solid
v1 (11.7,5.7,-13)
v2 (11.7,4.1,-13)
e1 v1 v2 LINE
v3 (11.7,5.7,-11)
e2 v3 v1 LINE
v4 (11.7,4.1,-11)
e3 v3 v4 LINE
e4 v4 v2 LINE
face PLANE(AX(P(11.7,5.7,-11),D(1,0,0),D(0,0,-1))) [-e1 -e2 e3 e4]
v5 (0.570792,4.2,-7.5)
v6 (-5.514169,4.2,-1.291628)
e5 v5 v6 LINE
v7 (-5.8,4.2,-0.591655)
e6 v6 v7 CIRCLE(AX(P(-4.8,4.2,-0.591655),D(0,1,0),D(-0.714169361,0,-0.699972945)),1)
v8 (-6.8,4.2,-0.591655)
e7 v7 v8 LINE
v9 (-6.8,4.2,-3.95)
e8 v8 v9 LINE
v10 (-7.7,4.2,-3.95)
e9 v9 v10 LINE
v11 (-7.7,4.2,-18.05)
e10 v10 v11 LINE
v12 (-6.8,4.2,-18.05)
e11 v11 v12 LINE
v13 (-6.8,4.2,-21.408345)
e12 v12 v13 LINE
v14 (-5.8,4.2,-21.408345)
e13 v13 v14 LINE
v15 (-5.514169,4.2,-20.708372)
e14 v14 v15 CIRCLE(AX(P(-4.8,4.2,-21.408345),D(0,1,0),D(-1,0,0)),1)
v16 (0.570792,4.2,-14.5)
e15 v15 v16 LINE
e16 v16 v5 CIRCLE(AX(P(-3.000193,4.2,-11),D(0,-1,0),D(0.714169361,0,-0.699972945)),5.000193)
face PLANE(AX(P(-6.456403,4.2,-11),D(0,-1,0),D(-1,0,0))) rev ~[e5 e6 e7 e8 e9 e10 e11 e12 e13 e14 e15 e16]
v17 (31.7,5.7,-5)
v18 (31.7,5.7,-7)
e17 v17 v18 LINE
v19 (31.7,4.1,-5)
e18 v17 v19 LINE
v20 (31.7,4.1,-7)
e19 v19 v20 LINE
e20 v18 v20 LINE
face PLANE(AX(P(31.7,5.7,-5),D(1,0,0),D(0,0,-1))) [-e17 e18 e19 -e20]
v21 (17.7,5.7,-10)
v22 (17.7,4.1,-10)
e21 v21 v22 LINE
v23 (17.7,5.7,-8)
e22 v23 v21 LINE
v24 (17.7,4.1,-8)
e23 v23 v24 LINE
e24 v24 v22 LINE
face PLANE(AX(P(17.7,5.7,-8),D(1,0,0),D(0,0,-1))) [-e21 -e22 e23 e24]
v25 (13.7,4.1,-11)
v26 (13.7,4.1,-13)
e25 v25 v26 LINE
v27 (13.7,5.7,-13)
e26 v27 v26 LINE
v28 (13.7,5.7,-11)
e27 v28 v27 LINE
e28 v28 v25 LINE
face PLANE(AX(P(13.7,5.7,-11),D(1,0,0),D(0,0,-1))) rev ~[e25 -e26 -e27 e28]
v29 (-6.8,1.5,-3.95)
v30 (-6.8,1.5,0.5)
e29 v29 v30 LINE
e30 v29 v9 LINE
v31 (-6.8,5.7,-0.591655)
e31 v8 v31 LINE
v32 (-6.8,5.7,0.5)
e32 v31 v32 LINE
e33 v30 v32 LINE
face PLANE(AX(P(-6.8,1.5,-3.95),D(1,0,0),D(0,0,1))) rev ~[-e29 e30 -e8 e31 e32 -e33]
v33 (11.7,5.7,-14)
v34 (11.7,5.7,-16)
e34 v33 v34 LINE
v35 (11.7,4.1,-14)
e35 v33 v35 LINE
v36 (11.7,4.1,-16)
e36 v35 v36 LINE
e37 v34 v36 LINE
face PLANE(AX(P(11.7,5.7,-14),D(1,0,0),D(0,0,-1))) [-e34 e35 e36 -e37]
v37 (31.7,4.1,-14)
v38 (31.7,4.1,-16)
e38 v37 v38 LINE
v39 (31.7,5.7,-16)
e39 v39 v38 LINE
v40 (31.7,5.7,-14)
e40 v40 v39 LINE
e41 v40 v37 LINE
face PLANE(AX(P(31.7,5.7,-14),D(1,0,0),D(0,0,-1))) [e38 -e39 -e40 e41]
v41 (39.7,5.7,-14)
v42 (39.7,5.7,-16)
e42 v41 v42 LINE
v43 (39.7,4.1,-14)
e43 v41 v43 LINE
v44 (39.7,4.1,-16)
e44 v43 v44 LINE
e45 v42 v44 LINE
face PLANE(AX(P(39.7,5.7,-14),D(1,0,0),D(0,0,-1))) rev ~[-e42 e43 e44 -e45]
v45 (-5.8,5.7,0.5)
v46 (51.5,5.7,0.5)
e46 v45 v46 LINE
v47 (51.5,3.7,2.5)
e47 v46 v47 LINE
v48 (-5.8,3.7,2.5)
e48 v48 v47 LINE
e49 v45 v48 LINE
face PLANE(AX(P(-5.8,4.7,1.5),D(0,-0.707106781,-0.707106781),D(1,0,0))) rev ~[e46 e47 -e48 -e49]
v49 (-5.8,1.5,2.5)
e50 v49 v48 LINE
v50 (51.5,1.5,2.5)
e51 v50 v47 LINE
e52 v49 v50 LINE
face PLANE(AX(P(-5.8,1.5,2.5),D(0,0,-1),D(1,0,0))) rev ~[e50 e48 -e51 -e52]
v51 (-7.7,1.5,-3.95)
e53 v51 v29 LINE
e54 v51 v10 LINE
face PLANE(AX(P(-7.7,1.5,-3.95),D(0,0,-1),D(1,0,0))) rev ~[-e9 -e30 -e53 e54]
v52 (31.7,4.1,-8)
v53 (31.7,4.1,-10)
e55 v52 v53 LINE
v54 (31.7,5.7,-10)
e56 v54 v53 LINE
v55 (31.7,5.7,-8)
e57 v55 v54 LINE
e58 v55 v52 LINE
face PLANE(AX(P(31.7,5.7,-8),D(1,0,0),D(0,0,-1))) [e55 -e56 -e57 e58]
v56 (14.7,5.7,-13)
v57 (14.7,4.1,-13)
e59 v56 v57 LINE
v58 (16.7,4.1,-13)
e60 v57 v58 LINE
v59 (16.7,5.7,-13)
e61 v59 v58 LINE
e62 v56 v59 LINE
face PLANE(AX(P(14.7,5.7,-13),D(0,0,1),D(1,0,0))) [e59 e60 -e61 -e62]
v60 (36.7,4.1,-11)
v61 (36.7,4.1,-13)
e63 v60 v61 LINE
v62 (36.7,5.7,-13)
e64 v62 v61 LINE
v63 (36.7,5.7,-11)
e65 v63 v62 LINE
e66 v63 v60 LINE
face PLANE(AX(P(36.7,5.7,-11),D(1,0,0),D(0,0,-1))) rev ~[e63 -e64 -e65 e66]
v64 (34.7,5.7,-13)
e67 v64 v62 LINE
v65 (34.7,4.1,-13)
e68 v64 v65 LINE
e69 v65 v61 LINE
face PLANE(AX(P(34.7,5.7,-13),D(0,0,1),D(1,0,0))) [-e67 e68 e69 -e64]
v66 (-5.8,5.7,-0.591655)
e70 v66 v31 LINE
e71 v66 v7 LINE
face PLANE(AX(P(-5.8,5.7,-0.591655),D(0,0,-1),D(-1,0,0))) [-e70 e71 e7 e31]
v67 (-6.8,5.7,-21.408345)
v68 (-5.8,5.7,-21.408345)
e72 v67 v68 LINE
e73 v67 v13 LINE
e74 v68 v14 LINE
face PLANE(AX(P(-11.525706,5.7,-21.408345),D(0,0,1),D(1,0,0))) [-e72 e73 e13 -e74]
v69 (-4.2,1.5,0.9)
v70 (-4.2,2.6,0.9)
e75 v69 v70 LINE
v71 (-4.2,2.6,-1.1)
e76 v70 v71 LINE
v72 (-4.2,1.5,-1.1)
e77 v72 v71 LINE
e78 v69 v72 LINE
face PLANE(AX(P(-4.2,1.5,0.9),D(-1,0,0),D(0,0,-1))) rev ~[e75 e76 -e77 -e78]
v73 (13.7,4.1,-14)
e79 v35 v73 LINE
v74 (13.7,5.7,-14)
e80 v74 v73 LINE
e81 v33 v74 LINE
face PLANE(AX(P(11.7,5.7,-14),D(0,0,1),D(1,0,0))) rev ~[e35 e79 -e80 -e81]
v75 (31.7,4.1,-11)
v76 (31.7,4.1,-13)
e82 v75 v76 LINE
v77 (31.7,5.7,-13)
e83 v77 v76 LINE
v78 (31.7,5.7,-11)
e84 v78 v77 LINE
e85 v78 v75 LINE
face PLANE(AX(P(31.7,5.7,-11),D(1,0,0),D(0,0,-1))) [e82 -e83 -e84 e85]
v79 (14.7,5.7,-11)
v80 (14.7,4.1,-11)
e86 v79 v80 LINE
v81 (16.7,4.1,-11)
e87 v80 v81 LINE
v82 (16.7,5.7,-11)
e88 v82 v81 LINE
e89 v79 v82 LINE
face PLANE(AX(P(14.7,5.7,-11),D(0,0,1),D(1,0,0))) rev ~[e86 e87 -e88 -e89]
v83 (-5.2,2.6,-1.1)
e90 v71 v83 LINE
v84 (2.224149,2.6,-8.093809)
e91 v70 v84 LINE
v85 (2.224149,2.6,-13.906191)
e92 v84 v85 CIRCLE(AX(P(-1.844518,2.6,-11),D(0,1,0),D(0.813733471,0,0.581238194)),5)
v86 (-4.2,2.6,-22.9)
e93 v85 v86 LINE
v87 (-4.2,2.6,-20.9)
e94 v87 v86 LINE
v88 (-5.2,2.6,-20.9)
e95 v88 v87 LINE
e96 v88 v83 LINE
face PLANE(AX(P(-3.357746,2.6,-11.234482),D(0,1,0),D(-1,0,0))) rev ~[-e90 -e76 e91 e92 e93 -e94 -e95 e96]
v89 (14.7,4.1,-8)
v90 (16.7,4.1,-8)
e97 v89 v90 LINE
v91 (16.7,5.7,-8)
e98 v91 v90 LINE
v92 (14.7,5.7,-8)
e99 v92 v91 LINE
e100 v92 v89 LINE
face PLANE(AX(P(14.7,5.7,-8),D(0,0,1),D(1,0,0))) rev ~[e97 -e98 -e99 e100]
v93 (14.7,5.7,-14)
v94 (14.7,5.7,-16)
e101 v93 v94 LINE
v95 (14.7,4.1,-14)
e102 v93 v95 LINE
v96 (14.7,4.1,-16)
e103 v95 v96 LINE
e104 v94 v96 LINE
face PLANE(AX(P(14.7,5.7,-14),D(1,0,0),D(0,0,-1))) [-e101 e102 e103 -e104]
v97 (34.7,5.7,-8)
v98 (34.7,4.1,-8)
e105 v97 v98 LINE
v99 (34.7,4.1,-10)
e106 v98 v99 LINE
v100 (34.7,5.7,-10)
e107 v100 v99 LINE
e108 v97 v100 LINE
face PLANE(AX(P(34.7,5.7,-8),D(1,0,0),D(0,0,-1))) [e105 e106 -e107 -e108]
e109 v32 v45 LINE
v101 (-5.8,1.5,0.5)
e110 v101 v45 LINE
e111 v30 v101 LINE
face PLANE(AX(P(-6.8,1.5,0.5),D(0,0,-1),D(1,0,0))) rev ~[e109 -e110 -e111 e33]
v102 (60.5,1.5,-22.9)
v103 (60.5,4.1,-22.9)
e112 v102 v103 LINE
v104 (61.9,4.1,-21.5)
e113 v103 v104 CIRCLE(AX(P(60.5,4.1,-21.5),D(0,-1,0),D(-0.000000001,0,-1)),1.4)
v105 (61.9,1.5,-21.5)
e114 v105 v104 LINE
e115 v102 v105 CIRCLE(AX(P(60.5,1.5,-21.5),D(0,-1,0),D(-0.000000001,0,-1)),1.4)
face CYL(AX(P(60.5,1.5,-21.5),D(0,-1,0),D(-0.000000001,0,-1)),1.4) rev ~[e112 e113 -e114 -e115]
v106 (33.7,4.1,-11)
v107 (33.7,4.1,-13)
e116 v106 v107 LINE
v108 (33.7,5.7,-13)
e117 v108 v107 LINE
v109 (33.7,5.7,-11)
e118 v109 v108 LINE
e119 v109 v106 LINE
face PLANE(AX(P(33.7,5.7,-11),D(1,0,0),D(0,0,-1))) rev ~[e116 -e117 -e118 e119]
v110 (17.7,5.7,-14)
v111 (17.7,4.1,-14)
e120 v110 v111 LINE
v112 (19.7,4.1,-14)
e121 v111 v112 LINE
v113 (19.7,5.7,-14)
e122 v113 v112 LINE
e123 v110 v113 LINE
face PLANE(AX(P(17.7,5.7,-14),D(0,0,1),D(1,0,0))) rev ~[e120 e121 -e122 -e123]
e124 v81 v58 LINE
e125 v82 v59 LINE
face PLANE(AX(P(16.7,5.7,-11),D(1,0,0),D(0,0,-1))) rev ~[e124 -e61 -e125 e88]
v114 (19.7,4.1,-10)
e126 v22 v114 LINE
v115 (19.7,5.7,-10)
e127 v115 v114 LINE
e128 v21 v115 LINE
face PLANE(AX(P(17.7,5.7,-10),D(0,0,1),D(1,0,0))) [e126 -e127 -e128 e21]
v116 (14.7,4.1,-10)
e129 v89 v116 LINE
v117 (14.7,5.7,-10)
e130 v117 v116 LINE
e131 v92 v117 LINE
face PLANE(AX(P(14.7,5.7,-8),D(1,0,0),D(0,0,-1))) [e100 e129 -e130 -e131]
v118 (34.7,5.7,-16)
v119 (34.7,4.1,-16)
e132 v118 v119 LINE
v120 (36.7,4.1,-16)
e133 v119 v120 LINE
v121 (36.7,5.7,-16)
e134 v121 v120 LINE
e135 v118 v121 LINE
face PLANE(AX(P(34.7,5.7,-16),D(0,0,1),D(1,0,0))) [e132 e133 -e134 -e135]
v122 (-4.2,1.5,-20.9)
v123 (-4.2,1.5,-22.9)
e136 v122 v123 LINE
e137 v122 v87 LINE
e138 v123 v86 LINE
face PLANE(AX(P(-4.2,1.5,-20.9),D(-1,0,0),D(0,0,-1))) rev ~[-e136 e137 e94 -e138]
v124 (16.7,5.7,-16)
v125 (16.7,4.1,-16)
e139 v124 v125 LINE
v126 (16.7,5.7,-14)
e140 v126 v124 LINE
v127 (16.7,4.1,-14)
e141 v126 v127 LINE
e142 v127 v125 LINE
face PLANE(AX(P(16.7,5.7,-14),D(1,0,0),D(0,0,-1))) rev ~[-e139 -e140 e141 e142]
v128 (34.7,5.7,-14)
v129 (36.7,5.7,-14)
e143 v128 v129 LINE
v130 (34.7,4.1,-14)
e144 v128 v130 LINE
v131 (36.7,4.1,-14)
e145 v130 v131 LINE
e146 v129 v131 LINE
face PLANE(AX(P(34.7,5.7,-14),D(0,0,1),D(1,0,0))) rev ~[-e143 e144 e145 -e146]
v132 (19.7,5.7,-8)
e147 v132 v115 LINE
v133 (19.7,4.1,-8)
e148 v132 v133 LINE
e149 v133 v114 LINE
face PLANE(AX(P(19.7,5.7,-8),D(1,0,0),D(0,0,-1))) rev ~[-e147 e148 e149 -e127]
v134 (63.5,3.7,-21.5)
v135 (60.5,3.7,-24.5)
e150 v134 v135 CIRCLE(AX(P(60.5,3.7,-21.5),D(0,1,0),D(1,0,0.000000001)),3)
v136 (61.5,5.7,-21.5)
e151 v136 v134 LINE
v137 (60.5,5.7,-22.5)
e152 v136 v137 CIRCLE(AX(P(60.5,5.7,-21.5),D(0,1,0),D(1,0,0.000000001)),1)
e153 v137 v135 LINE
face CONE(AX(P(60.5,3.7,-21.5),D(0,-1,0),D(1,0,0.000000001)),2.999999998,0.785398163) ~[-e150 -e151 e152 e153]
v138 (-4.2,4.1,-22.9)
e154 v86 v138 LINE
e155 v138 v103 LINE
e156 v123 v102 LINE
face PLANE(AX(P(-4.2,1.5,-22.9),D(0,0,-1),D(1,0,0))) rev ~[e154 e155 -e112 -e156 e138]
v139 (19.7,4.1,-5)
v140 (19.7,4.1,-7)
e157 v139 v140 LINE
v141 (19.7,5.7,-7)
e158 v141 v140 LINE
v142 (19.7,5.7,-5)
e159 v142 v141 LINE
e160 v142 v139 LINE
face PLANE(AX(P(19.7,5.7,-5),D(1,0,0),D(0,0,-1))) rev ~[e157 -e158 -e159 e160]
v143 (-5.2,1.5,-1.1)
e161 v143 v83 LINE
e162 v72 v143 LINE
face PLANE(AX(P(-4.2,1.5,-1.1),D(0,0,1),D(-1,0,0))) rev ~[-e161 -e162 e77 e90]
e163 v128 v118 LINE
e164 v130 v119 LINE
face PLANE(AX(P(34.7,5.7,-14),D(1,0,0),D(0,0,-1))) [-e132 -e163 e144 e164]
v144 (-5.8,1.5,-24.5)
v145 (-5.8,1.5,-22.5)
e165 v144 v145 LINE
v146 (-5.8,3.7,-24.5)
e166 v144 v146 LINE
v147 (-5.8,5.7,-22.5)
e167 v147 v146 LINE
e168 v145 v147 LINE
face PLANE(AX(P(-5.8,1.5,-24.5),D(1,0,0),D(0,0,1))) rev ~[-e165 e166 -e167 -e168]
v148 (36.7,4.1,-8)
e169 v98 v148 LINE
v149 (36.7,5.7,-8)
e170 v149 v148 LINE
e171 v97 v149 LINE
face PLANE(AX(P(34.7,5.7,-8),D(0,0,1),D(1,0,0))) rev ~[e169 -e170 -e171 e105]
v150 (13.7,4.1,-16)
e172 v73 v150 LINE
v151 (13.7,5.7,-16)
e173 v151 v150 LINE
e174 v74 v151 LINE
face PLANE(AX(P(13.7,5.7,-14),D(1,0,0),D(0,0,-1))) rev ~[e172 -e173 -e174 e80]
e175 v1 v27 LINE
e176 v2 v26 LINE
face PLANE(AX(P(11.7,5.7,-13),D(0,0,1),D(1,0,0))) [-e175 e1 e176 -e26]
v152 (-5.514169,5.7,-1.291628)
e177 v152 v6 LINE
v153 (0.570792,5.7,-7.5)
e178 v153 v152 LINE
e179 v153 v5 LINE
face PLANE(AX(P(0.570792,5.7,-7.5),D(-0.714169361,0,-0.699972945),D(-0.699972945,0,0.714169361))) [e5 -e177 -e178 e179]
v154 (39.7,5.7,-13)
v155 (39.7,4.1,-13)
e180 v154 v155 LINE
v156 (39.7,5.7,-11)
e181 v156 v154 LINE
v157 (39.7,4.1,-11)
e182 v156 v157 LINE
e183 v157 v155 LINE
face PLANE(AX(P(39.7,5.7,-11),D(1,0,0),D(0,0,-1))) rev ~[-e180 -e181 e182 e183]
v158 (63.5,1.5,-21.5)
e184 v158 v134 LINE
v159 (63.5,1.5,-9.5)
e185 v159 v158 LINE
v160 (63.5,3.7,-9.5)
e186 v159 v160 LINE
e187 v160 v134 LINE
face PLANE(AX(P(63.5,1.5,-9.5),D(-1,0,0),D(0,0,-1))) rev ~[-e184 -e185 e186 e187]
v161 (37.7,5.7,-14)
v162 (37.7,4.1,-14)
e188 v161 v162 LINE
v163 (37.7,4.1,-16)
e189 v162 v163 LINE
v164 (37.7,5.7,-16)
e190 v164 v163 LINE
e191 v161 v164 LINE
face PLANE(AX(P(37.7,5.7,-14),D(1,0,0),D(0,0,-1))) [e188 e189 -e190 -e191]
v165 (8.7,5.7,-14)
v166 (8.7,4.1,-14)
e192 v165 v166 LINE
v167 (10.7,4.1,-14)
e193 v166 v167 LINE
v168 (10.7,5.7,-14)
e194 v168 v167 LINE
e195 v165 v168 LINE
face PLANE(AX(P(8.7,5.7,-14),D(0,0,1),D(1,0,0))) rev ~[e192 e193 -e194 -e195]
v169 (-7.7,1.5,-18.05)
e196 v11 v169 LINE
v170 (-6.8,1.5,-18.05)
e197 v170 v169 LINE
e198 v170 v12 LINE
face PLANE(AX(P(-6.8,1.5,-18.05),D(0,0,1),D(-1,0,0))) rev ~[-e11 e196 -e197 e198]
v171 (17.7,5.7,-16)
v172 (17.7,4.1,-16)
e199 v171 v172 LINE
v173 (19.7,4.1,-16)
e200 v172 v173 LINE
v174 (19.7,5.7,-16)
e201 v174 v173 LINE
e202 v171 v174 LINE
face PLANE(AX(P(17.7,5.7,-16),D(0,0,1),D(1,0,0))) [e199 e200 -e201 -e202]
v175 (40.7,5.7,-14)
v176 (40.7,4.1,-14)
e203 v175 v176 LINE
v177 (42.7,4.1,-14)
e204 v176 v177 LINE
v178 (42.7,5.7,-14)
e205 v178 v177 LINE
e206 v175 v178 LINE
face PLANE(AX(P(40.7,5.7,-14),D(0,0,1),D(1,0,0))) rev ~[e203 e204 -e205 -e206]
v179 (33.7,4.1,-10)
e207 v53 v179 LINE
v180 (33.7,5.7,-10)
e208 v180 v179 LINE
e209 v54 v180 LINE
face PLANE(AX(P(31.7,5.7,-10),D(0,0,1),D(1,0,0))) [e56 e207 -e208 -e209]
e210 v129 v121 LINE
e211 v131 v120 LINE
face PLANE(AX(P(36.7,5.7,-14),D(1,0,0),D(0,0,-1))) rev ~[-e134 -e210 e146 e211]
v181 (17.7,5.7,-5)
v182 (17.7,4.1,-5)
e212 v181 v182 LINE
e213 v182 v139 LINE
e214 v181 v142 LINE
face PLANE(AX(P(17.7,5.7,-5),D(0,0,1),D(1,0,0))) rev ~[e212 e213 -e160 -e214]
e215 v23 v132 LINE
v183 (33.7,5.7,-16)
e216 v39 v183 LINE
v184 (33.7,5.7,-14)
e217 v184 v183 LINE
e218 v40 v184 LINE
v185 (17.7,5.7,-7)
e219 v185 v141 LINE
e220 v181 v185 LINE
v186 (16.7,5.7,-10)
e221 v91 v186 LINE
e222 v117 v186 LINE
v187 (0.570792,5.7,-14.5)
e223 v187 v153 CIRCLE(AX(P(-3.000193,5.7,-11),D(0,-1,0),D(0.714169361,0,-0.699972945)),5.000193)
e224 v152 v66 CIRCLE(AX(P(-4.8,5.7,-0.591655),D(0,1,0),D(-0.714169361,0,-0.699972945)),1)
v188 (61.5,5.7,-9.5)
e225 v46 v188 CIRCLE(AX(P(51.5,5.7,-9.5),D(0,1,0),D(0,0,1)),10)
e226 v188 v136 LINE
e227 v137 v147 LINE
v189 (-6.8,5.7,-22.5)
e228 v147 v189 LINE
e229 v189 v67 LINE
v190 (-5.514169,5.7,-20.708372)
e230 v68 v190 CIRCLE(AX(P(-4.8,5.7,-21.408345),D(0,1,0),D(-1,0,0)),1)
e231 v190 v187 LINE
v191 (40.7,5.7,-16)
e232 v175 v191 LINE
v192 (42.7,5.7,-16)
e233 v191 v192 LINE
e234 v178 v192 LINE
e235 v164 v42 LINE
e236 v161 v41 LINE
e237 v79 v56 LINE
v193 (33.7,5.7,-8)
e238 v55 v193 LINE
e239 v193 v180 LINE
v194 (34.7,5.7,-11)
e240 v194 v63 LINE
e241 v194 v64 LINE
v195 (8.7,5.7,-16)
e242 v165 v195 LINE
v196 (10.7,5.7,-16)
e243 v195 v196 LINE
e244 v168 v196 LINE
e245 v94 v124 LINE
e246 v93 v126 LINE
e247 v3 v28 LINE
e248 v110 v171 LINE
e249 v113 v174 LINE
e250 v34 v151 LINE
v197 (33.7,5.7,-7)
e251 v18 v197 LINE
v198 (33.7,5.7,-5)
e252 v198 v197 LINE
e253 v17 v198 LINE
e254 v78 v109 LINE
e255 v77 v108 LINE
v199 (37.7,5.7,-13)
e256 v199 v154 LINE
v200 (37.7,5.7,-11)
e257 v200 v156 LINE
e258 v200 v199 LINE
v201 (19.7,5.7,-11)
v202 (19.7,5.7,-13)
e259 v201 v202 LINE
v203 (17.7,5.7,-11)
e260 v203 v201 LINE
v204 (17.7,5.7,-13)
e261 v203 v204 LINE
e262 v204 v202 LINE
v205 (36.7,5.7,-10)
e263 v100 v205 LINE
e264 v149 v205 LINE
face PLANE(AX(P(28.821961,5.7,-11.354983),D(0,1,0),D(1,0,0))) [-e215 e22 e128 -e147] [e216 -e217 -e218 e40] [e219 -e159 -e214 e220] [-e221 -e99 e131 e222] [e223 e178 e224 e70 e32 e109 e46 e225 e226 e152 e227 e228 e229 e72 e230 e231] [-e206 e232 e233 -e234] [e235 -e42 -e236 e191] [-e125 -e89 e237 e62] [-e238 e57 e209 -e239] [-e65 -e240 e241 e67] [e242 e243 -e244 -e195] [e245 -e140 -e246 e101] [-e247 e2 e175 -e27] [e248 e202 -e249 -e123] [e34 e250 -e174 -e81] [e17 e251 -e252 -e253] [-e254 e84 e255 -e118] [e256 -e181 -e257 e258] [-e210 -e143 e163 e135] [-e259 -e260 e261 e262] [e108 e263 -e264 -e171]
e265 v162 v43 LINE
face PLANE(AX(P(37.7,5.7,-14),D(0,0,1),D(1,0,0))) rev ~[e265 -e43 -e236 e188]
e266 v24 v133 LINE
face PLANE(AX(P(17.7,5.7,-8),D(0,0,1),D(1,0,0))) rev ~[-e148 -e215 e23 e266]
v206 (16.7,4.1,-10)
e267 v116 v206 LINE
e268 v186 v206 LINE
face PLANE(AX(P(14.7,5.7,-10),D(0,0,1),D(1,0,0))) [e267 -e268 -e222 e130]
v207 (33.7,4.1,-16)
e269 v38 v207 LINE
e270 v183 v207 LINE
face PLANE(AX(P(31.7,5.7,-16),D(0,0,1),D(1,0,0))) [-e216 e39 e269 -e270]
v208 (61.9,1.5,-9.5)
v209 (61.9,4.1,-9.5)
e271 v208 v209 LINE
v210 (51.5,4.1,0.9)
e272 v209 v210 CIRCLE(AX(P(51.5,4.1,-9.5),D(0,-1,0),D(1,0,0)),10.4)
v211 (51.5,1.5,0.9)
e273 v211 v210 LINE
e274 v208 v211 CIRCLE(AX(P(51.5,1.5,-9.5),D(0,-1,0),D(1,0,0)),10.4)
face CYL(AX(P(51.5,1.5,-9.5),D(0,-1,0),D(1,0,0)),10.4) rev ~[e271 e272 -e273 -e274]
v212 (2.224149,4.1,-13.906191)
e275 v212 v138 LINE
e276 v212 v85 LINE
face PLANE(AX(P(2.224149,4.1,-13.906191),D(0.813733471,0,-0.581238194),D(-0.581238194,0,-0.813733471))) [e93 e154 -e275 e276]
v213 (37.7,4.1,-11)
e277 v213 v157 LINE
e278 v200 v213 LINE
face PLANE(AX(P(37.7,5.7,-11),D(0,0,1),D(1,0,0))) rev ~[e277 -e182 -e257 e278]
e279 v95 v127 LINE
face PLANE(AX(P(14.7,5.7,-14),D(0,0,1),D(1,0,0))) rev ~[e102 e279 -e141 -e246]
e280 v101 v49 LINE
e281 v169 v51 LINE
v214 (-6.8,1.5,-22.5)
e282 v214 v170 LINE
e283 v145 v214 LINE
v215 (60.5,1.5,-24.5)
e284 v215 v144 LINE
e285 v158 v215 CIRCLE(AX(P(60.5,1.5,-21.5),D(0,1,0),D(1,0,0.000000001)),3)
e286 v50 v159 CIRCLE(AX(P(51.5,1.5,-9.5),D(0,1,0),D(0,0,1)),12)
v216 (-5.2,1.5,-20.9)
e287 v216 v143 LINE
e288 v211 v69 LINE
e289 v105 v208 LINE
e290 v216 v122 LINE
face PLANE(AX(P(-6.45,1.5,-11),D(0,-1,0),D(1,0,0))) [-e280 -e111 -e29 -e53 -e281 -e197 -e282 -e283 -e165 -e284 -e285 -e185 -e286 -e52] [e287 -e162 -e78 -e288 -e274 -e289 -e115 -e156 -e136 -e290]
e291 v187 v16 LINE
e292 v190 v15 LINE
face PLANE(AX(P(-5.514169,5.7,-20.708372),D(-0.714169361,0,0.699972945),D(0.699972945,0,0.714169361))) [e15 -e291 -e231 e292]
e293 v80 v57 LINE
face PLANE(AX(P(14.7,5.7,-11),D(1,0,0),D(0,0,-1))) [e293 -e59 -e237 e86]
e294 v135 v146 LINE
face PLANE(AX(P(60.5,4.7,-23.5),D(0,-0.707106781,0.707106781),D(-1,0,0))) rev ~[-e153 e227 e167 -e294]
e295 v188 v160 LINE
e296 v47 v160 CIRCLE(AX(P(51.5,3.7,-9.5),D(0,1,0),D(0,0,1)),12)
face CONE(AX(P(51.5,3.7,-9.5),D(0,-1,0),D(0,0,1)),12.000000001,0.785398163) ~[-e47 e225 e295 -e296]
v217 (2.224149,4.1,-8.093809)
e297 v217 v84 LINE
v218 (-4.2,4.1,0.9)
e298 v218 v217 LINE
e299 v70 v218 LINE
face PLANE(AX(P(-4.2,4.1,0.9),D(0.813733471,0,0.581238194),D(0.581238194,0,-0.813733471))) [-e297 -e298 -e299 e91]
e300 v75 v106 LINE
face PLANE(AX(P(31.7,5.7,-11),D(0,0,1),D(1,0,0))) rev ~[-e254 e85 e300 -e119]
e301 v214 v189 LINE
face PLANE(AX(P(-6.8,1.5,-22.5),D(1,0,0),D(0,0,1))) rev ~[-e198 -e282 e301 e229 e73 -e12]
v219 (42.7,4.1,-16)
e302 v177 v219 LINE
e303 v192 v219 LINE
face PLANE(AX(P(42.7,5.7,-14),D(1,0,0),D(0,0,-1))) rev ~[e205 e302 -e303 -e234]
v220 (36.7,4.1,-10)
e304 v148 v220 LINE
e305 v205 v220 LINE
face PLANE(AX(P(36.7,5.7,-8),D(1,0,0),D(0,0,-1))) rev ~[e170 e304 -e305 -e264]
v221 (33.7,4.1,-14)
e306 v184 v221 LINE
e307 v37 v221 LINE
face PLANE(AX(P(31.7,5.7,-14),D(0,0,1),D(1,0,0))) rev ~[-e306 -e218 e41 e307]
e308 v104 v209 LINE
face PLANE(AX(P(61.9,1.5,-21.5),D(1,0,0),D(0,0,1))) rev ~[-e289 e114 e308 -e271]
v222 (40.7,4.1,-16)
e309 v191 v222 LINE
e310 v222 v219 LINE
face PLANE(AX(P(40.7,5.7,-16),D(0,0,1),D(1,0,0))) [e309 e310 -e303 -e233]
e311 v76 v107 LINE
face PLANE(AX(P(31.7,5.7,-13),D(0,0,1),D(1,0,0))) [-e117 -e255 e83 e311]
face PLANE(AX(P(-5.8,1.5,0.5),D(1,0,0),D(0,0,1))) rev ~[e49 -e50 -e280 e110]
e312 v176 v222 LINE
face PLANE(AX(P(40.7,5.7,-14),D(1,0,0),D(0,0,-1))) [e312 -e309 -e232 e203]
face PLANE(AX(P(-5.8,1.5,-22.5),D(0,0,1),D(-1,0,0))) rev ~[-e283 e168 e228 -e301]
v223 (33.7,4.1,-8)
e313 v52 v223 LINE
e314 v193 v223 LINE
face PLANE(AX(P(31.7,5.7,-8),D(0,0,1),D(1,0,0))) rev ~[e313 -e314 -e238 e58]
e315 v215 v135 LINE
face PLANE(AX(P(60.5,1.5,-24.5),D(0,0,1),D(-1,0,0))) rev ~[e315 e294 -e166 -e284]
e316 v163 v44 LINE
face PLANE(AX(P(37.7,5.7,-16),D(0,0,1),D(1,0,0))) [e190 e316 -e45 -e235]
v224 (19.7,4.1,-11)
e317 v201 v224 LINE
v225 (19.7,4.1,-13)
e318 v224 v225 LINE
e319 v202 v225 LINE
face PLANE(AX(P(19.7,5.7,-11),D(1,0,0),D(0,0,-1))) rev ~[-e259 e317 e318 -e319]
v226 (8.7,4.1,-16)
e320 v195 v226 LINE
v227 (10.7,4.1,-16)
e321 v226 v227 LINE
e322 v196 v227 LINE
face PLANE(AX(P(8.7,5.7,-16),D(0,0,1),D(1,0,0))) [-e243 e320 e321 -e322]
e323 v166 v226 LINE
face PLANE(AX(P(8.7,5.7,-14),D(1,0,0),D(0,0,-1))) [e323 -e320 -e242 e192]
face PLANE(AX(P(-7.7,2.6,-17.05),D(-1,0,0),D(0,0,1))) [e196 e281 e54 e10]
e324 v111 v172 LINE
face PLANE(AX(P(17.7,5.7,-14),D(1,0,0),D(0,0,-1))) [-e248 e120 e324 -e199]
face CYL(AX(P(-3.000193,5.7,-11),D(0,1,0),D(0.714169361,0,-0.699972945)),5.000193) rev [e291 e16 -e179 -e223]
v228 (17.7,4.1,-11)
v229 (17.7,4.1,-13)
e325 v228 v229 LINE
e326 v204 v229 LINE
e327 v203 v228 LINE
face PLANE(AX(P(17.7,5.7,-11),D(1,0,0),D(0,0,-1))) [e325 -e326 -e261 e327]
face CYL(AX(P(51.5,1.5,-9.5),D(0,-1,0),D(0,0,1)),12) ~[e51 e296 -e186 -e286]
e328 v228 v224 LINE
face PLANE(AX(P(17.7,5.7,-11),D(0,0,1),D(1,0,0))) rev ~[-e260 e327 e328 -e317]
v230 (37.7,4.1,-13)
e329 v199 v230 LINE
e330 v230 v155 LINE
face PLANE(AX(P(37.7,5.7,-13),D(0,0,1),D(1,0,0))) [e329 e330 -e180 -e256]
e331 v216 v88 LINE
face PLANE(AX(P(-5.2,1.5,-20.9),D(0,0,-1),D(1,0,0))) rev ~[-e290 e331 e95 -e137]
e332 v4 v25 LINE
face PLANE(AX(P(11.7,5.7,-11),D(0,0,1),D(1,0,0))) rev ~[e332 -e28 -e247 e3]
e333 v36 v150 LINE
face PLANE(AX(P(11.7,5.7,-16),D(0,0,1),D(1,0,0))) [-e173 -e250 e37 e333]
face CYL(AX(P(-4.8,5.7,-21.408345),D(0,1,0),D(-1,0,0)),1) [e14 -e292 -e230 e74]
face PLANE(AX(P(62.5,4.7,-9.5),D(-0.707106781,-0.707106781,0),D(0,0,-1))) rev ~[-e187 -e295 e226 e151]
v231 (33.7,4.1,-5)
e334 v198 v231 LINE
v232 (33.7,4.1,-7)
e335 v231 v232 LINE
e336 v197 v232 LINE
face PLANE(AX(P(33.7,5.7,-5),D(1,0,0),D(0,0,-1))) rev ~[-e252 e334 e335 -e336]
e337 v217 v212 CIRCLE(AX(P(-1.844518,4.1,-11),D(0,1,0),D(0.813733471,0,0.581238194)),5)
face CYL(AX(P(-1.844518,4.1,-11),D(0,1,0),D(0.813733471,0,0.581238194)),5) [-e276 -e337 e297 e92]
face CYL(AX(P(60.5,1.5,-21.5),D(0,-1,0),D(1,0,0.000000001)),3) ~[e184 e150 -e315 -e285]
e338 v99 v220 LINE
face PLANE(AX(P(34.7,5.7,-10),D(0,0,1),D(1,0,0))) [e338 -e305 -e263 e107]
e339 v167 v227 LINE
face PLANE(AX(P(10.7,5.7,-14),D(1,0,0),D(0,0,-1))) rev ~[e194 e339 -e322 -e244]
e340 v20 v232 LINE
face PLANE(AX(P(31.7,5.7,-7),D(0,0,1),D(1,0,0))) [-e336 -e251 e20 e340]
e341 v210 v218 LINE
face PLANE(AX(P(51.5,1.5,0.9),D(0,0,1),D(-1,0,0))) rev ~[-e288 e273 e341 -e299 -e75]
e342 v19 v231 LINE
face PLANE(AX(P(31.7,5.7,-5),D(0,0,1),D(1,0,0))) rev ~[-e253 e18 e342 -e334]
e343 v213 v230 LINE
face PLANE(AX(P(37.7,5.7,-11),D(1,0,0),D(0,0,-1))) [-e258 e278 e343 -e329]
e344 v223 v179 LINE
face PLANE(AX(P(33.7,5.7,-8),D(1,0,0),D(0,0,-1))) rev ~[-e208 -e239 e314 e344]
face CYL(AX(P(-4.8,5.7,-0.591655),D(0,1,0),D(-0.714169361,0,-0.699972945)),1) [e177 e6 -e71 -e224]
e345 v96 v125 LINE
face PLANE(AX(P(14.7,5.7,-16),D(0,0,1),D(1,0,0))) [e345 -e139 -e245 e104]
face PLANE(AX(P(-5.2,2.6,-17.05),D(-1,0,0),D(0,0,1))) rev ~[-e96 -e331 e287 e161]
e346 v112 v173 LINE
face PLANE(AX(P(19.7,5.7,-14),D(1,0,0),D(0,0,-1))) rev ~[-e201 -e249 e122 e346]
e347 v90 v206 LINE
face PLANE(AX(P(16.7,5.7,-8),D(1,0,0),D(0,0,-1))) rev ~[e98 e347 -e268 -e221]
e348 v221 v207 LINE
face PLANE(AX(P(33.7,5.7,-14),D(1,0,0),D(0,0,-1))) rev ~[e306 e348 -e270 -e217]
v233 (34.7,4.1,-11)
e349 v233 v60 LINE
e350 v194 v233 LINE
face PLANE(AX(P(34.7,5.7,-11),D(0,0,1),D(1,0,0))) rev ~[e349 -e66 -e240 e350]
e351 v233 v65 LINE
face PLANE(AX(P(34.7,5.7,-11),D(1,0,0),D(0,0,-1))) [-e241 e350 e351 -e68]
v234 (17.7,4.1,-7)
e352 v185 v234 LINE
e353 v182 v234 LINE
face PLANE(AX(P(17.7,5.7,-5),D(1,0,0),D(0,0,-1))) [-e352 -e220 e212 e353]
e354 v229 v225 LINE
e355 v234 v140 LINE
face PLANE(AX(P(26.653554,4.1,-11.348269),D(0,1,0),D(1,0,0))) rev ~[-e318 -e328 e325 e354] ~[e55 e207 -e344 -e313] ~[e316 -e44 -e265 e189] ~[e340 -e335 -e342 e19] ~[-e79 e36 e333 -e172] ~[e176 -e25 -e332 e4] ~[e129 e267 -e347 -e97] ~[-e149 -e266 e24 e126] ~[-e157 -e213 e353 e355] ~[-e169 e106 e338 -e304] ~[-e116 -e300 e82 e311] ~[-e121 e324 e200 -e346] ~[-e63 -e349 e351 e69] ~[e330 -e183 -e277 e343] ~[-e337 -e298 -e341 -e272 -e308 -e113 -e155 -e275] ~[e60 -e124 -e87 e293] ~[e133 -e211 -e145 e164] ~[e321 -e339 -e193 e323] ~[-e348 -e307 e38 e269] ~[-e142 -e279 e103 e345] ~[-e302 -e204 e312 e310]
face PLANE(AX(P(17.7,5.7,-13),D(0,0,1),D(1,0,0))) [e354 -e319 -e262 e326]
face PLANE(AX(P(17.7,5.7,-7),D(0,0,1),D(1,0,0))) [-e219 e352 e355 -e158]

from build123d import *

# Parameters (mm, degrees)
EXTRUDE_1_DEPTH     = 4.2
EXTRUDE_START       = -1.6
EXTRUDE_2_DEPTH     = 1.6
CHAMFER_1_SIZE      = 2
CUT_EXTRUDE_1_DEPTH = 1.5
EXTRUDE_3_DEPTH     = 1.5
SKETCH_5_W          = 2.5
SKETCH_5_H          = 12.1
EXTRUDE_4_DEPTH     = 1.1
SKETCH_6_W          = 2
SKETCH_6_H          = 2
CUT_EXTRUDE_2_DEPTH = 69.191935007


with BuildPart() as part:
    # Эскиз1 → Бобышка-Вытянуть1 (new body)
    with BuildSketch(Plane(origin=(0, 1.5, 0), x_dir=(1, 0, 0), z_dir=(0, 1, 0))):
        with BuildLine():
            Line((46.05, -0.9), (-4.2, -0.9))
            Line((-4.2, -0.9), (-4.2, 1.1))
            Line((-4.2, 1.1), (-5.2, 1.1))
            Line((-5.2, 1.1), (-5.2, 4.95))
            Line((-5.2, 4.95), (-7.7, 4.95))
            Line((-7.7, 4.95), (-7.7, 3.95))
            Line((-7.7, 3.95), (-6.8, 3.95))
            Line((-6.8, 3.95), (-6.8, -0.5))
            Line((-6.8, -0.5), (-5.8, -0.5))
            Line((-5.8, -0.5), (-5.8, -2.5))
            Line((-5.8, -2.5), (46.05, -2.5))
            Line((46.05, -2.5), (50.55, -2.5))
            Line((50.55, -2.5), (51.5, -2.5))
            ThreePointArc((51.5, -2.5), (59.985281374, 1.014718626), (63.5, 9.5))
            Line((63.5, 9.5), (63.5, 21.5))
            ThreePointArc((63.5, 21.5), (62.621320344, 23.621320344), (60.5, 24.5))
            Line((60.5, 24.5), (-5.8, 24.5))
            Line((-5.8, 24.5), (-5.8, 22.5))
            Line((-5.8, 22.5), (-6.8, 22.5))
            Line((-6.8, 22.5), (-6.8, 18.05))
            Line((-6.8, 18.05), (-7.7, 18.05))
            Line((-7.7, 18.05), (-7.7, 17.05))
            Line((-7.7, 17.05), (-5.2, 17.05))
            Line((-5.2, 17.05), (-5.2, 20.9))
            Line((-5.2, 20.9), (-4.2, 20.9))
            Line((-4.2, 20.9), (-4.2, 22.9))
            Line((-4.2, 22.9), (60.5, 22.9))
            ThreePointArc((60.5, 22.9), (61.489949494, 22.489949494), (61.9, 21.5))
            Line((61.9, 21.5), (61.9, 9.5))
            ThreePointArc((61.9, 9.5), (58.853910524, 2.146089476), (51.5, -0.9))
            Line((51.5, -0.9), (50.55, -0.9))
            Line((50.55, -0.9), (46.05, -0.9))
        make_face()
    extrude(amount=EXTRUDE_1_DEPTH)

    # Эскиз2 → Бобышка-Вытянуть2 (add)
    with BuildSketch(Plane(origin=(0, 5.7, 0), x_dir=(1, 0, 0), z_dir=(0, 1, 0)).offset(EXTRUDE_START)):
        with BuildLine():
            Line((-7.7, 17.05), (-7.7, 4.95))
            Line((-7.7, 4.95), (-7.7, 3.95))
            Line((-7.7, 3.95), (-6.8, 3.95))
            Line((-6.8, 3.95), (-6.8, -0.5))
            Line((-6.8, -0.5), (-5.8, -0.5))
            Line((-5.8, -0.5), (-5.8, -2.5))
            Line((-5.8, -2.5), (51.5, -2.5))
            ThreePointArc((51.5, -2.5), (59.985281374, 1.014718626), (63.5, 9.5))
            Line((63.5, 9.5), (63.5, 21.5))
            ThreePointArc((63.5, 21.5), (62.621320344, 23.621320344), (60.5, 24.5))
            Line((60.5, 24.5), (-5.8, 24.5))
            Line((-5.8, 24.5), (-5.8, 22.5))
            Line((-5.8, 22.5), (-6.8, 22.5))
            Line((-6.8, 22.5), (-6.8, 18.05))
            Line((-6.8, 18.05), (-7.7, 18.05))
            Line((-7.7, 18.05), (-7.7, 17.05))
        make_face()
    extrude(amount=EXTRUDE_2_DEPTH)

    # Фаска1
    chamfer_1_edges = [part.edges().sort_by_distance(p)[0] for p in [
        (27.35, 5.7, -24.5),
        (62.621320344, 5.7, -23.621320344),
        (63.5, 5.7, -15.5),
        (59.985281374, 5.7, -1.014718626),
        (22.85, 5.7, 2.5),
    ]]
    chamfer(chamfer_1_edges, length=CHAMFER_1_SIZE)

    # Эскиз3 → Вырез-Вытянуть1 (cut)
    with BuildSketch(Plane(origin=(0, 5.7, 0), x_dir=(1, 0, 0), z_dir=(0, 1, 0))):
        with BuildLine():
            Line((0.570791566, 7.5), (-5.514169361, 1.291627678))
            ThreePointArc((-5.514169361, 1.291627678), (-5.72578868, 0.969696159), (-5.8, 0.591654733))
            Line((-5.8, 0.591654733), (-11.525705964, 0.591654733))
            Line((-11.525705964, 0.591654733), (-11.525705964, 21.408345267))
            Line((-11.525705964, 21.408345267), (-5.8, 21.408345267))
            ThreePointArc((-5.8, 21.408345267), (-5.72578868, 21.030303841), (-5.514169361, 20.708372322))
            Line((-5.514169361, 20.708372322), (0.570791566, 14.5))
            ThreePointArc((0.570791566, 14.5), (2, 11), (0.570791566, 7.5))
        make_face()
    extrude(amount=-CUT_EXTRUDE_1_DEPTH, mode=Mode.SUBTRACT)

    # Эскиз4 → Бобышка-Вытянуть3 (add)
    with BuildSketch(Plane.XZ.offset(-4.1)):
        with BuildLine():
            Line((-4.2, 0.9), (2.224149308, -8.093809031))
            ThreePointArc((2.224149308, -8.093809031), (3.155481952, -11), (2.224149308, -13.906190969))
            Line((2.224149308, -13.906190969), (-4.2, -22.9))
            Line((-4.2, -22.9), (-5.2, -22.9))
            Line((-5.2, -22.9), (-5.2, -17.05))
            Line((-5.2, -17.05), (-7.7, -17.05))
            Line((-7.7, -17.05), (-7.7, -4.95))
            Line((-7.7, -4.95), (-5.998027876, -4.95))
            Line((-5.998027876, -4.95), (-5.2, -1.1))
            Line((-5.2, -1.1), (-4.2, 0.9))
        make_face()
    extrude(amount=EXTRUDE_3_DEPTH)

    # Эскиз5 → Бобышка-Вытянуть4 (add)
    with BuildSketch(Plane.XZ.offset(-2.6)):
        with Locations((-6.45, -11)):
            Rectangle(SKETCH_5_W, SKETCH_5_H)
    extrude(amount=EXTRUDE_4_DEPTH)

    # Эскиз6 → Вырез-Вытянуть2 (cut, through all)
    with BuildSketch(Plane(origin=(0, 5.7, 0), x_dir=(1, 0, 0), z_dir=(0, 1, 0))):
        with Locations((18.7, 15)):
            Rectangle(SKETCH_6_W, SKETCH_6_H)
        with Locations((15.7, 15)):
            Rectangle(SKETCH_6_W, SKETCH_6_H)
        with Locations((12.7, 15)):
            Rectangle(SKETCH_6_W, SKETCH_6_H)
        with Locations((9.7, 15)):
            Rectangle(SKETCH_6_W, SKETCH_6_H)
        with Locations((18.7, 12)):
            Rectangle(SKETCH_6_W, SKETCH_6_H)
        with Locations((15.7, 12)):
            Rectangle(SKETCH_6_W, SKETCH_6_H)
        with Locations((12.7, 12)):
            Rectangle(SKETCH_6_W, SKETCH_6_H)
        with Locations((18.7, 9)):
            Rectangle(SKETCH_6_W, SKETCH_6_H)
        with Locations((15.7, 9)):
            Rectangle(SKETCH_6_W, SKETCH_6_H)
        with Locations((18.7, 6)):
            Rectangle(SKETCH_6_W, SKETCH_6_H)
        with Locations((32.7, 6)):
            Rectangle(SKETCH_6_W, SKETCH_6_H)
        with Locations((35.7, 9)):
            Rectangle(SKETCH_6_W, SKETCH_6_H)
        with Locations((32.7, 9)):
            Rectangle(SKETCH_6_W, SKETCH_6_H)
        with Locations((38.7, 12)):
            Rectangle(SKETCH_6_W, SKETCH_6_H)
        with Locations((35.7, 12)):
            Rectangle(SKETCH_6_W, SKETCH_6_H)
        with Locations((32.7, 12)):
            Rectangle(SKETCH_6_W, SKETCH_6_H)
        with Locations((41.7, 15)):
            Rectangle(SKETCH_6_W, SKETCH_6_H)
        with Locations((38.7, 15)):
            Rectangle(SKETCH_6_W, SKETCH_6_H)
        with Locations((35.7, 15)):
            Rectangle(SKETCH_6_W, SKETCH_6_H)
        with Locations((32.7, 15)):
            Rectangle(SKETCH_6_W, SKETCH_6_H)
    extrude(amount=-CUT_EXTRUDE_2_DEPTH, mode=Mode.SUBTRACT)


solid = part.part
